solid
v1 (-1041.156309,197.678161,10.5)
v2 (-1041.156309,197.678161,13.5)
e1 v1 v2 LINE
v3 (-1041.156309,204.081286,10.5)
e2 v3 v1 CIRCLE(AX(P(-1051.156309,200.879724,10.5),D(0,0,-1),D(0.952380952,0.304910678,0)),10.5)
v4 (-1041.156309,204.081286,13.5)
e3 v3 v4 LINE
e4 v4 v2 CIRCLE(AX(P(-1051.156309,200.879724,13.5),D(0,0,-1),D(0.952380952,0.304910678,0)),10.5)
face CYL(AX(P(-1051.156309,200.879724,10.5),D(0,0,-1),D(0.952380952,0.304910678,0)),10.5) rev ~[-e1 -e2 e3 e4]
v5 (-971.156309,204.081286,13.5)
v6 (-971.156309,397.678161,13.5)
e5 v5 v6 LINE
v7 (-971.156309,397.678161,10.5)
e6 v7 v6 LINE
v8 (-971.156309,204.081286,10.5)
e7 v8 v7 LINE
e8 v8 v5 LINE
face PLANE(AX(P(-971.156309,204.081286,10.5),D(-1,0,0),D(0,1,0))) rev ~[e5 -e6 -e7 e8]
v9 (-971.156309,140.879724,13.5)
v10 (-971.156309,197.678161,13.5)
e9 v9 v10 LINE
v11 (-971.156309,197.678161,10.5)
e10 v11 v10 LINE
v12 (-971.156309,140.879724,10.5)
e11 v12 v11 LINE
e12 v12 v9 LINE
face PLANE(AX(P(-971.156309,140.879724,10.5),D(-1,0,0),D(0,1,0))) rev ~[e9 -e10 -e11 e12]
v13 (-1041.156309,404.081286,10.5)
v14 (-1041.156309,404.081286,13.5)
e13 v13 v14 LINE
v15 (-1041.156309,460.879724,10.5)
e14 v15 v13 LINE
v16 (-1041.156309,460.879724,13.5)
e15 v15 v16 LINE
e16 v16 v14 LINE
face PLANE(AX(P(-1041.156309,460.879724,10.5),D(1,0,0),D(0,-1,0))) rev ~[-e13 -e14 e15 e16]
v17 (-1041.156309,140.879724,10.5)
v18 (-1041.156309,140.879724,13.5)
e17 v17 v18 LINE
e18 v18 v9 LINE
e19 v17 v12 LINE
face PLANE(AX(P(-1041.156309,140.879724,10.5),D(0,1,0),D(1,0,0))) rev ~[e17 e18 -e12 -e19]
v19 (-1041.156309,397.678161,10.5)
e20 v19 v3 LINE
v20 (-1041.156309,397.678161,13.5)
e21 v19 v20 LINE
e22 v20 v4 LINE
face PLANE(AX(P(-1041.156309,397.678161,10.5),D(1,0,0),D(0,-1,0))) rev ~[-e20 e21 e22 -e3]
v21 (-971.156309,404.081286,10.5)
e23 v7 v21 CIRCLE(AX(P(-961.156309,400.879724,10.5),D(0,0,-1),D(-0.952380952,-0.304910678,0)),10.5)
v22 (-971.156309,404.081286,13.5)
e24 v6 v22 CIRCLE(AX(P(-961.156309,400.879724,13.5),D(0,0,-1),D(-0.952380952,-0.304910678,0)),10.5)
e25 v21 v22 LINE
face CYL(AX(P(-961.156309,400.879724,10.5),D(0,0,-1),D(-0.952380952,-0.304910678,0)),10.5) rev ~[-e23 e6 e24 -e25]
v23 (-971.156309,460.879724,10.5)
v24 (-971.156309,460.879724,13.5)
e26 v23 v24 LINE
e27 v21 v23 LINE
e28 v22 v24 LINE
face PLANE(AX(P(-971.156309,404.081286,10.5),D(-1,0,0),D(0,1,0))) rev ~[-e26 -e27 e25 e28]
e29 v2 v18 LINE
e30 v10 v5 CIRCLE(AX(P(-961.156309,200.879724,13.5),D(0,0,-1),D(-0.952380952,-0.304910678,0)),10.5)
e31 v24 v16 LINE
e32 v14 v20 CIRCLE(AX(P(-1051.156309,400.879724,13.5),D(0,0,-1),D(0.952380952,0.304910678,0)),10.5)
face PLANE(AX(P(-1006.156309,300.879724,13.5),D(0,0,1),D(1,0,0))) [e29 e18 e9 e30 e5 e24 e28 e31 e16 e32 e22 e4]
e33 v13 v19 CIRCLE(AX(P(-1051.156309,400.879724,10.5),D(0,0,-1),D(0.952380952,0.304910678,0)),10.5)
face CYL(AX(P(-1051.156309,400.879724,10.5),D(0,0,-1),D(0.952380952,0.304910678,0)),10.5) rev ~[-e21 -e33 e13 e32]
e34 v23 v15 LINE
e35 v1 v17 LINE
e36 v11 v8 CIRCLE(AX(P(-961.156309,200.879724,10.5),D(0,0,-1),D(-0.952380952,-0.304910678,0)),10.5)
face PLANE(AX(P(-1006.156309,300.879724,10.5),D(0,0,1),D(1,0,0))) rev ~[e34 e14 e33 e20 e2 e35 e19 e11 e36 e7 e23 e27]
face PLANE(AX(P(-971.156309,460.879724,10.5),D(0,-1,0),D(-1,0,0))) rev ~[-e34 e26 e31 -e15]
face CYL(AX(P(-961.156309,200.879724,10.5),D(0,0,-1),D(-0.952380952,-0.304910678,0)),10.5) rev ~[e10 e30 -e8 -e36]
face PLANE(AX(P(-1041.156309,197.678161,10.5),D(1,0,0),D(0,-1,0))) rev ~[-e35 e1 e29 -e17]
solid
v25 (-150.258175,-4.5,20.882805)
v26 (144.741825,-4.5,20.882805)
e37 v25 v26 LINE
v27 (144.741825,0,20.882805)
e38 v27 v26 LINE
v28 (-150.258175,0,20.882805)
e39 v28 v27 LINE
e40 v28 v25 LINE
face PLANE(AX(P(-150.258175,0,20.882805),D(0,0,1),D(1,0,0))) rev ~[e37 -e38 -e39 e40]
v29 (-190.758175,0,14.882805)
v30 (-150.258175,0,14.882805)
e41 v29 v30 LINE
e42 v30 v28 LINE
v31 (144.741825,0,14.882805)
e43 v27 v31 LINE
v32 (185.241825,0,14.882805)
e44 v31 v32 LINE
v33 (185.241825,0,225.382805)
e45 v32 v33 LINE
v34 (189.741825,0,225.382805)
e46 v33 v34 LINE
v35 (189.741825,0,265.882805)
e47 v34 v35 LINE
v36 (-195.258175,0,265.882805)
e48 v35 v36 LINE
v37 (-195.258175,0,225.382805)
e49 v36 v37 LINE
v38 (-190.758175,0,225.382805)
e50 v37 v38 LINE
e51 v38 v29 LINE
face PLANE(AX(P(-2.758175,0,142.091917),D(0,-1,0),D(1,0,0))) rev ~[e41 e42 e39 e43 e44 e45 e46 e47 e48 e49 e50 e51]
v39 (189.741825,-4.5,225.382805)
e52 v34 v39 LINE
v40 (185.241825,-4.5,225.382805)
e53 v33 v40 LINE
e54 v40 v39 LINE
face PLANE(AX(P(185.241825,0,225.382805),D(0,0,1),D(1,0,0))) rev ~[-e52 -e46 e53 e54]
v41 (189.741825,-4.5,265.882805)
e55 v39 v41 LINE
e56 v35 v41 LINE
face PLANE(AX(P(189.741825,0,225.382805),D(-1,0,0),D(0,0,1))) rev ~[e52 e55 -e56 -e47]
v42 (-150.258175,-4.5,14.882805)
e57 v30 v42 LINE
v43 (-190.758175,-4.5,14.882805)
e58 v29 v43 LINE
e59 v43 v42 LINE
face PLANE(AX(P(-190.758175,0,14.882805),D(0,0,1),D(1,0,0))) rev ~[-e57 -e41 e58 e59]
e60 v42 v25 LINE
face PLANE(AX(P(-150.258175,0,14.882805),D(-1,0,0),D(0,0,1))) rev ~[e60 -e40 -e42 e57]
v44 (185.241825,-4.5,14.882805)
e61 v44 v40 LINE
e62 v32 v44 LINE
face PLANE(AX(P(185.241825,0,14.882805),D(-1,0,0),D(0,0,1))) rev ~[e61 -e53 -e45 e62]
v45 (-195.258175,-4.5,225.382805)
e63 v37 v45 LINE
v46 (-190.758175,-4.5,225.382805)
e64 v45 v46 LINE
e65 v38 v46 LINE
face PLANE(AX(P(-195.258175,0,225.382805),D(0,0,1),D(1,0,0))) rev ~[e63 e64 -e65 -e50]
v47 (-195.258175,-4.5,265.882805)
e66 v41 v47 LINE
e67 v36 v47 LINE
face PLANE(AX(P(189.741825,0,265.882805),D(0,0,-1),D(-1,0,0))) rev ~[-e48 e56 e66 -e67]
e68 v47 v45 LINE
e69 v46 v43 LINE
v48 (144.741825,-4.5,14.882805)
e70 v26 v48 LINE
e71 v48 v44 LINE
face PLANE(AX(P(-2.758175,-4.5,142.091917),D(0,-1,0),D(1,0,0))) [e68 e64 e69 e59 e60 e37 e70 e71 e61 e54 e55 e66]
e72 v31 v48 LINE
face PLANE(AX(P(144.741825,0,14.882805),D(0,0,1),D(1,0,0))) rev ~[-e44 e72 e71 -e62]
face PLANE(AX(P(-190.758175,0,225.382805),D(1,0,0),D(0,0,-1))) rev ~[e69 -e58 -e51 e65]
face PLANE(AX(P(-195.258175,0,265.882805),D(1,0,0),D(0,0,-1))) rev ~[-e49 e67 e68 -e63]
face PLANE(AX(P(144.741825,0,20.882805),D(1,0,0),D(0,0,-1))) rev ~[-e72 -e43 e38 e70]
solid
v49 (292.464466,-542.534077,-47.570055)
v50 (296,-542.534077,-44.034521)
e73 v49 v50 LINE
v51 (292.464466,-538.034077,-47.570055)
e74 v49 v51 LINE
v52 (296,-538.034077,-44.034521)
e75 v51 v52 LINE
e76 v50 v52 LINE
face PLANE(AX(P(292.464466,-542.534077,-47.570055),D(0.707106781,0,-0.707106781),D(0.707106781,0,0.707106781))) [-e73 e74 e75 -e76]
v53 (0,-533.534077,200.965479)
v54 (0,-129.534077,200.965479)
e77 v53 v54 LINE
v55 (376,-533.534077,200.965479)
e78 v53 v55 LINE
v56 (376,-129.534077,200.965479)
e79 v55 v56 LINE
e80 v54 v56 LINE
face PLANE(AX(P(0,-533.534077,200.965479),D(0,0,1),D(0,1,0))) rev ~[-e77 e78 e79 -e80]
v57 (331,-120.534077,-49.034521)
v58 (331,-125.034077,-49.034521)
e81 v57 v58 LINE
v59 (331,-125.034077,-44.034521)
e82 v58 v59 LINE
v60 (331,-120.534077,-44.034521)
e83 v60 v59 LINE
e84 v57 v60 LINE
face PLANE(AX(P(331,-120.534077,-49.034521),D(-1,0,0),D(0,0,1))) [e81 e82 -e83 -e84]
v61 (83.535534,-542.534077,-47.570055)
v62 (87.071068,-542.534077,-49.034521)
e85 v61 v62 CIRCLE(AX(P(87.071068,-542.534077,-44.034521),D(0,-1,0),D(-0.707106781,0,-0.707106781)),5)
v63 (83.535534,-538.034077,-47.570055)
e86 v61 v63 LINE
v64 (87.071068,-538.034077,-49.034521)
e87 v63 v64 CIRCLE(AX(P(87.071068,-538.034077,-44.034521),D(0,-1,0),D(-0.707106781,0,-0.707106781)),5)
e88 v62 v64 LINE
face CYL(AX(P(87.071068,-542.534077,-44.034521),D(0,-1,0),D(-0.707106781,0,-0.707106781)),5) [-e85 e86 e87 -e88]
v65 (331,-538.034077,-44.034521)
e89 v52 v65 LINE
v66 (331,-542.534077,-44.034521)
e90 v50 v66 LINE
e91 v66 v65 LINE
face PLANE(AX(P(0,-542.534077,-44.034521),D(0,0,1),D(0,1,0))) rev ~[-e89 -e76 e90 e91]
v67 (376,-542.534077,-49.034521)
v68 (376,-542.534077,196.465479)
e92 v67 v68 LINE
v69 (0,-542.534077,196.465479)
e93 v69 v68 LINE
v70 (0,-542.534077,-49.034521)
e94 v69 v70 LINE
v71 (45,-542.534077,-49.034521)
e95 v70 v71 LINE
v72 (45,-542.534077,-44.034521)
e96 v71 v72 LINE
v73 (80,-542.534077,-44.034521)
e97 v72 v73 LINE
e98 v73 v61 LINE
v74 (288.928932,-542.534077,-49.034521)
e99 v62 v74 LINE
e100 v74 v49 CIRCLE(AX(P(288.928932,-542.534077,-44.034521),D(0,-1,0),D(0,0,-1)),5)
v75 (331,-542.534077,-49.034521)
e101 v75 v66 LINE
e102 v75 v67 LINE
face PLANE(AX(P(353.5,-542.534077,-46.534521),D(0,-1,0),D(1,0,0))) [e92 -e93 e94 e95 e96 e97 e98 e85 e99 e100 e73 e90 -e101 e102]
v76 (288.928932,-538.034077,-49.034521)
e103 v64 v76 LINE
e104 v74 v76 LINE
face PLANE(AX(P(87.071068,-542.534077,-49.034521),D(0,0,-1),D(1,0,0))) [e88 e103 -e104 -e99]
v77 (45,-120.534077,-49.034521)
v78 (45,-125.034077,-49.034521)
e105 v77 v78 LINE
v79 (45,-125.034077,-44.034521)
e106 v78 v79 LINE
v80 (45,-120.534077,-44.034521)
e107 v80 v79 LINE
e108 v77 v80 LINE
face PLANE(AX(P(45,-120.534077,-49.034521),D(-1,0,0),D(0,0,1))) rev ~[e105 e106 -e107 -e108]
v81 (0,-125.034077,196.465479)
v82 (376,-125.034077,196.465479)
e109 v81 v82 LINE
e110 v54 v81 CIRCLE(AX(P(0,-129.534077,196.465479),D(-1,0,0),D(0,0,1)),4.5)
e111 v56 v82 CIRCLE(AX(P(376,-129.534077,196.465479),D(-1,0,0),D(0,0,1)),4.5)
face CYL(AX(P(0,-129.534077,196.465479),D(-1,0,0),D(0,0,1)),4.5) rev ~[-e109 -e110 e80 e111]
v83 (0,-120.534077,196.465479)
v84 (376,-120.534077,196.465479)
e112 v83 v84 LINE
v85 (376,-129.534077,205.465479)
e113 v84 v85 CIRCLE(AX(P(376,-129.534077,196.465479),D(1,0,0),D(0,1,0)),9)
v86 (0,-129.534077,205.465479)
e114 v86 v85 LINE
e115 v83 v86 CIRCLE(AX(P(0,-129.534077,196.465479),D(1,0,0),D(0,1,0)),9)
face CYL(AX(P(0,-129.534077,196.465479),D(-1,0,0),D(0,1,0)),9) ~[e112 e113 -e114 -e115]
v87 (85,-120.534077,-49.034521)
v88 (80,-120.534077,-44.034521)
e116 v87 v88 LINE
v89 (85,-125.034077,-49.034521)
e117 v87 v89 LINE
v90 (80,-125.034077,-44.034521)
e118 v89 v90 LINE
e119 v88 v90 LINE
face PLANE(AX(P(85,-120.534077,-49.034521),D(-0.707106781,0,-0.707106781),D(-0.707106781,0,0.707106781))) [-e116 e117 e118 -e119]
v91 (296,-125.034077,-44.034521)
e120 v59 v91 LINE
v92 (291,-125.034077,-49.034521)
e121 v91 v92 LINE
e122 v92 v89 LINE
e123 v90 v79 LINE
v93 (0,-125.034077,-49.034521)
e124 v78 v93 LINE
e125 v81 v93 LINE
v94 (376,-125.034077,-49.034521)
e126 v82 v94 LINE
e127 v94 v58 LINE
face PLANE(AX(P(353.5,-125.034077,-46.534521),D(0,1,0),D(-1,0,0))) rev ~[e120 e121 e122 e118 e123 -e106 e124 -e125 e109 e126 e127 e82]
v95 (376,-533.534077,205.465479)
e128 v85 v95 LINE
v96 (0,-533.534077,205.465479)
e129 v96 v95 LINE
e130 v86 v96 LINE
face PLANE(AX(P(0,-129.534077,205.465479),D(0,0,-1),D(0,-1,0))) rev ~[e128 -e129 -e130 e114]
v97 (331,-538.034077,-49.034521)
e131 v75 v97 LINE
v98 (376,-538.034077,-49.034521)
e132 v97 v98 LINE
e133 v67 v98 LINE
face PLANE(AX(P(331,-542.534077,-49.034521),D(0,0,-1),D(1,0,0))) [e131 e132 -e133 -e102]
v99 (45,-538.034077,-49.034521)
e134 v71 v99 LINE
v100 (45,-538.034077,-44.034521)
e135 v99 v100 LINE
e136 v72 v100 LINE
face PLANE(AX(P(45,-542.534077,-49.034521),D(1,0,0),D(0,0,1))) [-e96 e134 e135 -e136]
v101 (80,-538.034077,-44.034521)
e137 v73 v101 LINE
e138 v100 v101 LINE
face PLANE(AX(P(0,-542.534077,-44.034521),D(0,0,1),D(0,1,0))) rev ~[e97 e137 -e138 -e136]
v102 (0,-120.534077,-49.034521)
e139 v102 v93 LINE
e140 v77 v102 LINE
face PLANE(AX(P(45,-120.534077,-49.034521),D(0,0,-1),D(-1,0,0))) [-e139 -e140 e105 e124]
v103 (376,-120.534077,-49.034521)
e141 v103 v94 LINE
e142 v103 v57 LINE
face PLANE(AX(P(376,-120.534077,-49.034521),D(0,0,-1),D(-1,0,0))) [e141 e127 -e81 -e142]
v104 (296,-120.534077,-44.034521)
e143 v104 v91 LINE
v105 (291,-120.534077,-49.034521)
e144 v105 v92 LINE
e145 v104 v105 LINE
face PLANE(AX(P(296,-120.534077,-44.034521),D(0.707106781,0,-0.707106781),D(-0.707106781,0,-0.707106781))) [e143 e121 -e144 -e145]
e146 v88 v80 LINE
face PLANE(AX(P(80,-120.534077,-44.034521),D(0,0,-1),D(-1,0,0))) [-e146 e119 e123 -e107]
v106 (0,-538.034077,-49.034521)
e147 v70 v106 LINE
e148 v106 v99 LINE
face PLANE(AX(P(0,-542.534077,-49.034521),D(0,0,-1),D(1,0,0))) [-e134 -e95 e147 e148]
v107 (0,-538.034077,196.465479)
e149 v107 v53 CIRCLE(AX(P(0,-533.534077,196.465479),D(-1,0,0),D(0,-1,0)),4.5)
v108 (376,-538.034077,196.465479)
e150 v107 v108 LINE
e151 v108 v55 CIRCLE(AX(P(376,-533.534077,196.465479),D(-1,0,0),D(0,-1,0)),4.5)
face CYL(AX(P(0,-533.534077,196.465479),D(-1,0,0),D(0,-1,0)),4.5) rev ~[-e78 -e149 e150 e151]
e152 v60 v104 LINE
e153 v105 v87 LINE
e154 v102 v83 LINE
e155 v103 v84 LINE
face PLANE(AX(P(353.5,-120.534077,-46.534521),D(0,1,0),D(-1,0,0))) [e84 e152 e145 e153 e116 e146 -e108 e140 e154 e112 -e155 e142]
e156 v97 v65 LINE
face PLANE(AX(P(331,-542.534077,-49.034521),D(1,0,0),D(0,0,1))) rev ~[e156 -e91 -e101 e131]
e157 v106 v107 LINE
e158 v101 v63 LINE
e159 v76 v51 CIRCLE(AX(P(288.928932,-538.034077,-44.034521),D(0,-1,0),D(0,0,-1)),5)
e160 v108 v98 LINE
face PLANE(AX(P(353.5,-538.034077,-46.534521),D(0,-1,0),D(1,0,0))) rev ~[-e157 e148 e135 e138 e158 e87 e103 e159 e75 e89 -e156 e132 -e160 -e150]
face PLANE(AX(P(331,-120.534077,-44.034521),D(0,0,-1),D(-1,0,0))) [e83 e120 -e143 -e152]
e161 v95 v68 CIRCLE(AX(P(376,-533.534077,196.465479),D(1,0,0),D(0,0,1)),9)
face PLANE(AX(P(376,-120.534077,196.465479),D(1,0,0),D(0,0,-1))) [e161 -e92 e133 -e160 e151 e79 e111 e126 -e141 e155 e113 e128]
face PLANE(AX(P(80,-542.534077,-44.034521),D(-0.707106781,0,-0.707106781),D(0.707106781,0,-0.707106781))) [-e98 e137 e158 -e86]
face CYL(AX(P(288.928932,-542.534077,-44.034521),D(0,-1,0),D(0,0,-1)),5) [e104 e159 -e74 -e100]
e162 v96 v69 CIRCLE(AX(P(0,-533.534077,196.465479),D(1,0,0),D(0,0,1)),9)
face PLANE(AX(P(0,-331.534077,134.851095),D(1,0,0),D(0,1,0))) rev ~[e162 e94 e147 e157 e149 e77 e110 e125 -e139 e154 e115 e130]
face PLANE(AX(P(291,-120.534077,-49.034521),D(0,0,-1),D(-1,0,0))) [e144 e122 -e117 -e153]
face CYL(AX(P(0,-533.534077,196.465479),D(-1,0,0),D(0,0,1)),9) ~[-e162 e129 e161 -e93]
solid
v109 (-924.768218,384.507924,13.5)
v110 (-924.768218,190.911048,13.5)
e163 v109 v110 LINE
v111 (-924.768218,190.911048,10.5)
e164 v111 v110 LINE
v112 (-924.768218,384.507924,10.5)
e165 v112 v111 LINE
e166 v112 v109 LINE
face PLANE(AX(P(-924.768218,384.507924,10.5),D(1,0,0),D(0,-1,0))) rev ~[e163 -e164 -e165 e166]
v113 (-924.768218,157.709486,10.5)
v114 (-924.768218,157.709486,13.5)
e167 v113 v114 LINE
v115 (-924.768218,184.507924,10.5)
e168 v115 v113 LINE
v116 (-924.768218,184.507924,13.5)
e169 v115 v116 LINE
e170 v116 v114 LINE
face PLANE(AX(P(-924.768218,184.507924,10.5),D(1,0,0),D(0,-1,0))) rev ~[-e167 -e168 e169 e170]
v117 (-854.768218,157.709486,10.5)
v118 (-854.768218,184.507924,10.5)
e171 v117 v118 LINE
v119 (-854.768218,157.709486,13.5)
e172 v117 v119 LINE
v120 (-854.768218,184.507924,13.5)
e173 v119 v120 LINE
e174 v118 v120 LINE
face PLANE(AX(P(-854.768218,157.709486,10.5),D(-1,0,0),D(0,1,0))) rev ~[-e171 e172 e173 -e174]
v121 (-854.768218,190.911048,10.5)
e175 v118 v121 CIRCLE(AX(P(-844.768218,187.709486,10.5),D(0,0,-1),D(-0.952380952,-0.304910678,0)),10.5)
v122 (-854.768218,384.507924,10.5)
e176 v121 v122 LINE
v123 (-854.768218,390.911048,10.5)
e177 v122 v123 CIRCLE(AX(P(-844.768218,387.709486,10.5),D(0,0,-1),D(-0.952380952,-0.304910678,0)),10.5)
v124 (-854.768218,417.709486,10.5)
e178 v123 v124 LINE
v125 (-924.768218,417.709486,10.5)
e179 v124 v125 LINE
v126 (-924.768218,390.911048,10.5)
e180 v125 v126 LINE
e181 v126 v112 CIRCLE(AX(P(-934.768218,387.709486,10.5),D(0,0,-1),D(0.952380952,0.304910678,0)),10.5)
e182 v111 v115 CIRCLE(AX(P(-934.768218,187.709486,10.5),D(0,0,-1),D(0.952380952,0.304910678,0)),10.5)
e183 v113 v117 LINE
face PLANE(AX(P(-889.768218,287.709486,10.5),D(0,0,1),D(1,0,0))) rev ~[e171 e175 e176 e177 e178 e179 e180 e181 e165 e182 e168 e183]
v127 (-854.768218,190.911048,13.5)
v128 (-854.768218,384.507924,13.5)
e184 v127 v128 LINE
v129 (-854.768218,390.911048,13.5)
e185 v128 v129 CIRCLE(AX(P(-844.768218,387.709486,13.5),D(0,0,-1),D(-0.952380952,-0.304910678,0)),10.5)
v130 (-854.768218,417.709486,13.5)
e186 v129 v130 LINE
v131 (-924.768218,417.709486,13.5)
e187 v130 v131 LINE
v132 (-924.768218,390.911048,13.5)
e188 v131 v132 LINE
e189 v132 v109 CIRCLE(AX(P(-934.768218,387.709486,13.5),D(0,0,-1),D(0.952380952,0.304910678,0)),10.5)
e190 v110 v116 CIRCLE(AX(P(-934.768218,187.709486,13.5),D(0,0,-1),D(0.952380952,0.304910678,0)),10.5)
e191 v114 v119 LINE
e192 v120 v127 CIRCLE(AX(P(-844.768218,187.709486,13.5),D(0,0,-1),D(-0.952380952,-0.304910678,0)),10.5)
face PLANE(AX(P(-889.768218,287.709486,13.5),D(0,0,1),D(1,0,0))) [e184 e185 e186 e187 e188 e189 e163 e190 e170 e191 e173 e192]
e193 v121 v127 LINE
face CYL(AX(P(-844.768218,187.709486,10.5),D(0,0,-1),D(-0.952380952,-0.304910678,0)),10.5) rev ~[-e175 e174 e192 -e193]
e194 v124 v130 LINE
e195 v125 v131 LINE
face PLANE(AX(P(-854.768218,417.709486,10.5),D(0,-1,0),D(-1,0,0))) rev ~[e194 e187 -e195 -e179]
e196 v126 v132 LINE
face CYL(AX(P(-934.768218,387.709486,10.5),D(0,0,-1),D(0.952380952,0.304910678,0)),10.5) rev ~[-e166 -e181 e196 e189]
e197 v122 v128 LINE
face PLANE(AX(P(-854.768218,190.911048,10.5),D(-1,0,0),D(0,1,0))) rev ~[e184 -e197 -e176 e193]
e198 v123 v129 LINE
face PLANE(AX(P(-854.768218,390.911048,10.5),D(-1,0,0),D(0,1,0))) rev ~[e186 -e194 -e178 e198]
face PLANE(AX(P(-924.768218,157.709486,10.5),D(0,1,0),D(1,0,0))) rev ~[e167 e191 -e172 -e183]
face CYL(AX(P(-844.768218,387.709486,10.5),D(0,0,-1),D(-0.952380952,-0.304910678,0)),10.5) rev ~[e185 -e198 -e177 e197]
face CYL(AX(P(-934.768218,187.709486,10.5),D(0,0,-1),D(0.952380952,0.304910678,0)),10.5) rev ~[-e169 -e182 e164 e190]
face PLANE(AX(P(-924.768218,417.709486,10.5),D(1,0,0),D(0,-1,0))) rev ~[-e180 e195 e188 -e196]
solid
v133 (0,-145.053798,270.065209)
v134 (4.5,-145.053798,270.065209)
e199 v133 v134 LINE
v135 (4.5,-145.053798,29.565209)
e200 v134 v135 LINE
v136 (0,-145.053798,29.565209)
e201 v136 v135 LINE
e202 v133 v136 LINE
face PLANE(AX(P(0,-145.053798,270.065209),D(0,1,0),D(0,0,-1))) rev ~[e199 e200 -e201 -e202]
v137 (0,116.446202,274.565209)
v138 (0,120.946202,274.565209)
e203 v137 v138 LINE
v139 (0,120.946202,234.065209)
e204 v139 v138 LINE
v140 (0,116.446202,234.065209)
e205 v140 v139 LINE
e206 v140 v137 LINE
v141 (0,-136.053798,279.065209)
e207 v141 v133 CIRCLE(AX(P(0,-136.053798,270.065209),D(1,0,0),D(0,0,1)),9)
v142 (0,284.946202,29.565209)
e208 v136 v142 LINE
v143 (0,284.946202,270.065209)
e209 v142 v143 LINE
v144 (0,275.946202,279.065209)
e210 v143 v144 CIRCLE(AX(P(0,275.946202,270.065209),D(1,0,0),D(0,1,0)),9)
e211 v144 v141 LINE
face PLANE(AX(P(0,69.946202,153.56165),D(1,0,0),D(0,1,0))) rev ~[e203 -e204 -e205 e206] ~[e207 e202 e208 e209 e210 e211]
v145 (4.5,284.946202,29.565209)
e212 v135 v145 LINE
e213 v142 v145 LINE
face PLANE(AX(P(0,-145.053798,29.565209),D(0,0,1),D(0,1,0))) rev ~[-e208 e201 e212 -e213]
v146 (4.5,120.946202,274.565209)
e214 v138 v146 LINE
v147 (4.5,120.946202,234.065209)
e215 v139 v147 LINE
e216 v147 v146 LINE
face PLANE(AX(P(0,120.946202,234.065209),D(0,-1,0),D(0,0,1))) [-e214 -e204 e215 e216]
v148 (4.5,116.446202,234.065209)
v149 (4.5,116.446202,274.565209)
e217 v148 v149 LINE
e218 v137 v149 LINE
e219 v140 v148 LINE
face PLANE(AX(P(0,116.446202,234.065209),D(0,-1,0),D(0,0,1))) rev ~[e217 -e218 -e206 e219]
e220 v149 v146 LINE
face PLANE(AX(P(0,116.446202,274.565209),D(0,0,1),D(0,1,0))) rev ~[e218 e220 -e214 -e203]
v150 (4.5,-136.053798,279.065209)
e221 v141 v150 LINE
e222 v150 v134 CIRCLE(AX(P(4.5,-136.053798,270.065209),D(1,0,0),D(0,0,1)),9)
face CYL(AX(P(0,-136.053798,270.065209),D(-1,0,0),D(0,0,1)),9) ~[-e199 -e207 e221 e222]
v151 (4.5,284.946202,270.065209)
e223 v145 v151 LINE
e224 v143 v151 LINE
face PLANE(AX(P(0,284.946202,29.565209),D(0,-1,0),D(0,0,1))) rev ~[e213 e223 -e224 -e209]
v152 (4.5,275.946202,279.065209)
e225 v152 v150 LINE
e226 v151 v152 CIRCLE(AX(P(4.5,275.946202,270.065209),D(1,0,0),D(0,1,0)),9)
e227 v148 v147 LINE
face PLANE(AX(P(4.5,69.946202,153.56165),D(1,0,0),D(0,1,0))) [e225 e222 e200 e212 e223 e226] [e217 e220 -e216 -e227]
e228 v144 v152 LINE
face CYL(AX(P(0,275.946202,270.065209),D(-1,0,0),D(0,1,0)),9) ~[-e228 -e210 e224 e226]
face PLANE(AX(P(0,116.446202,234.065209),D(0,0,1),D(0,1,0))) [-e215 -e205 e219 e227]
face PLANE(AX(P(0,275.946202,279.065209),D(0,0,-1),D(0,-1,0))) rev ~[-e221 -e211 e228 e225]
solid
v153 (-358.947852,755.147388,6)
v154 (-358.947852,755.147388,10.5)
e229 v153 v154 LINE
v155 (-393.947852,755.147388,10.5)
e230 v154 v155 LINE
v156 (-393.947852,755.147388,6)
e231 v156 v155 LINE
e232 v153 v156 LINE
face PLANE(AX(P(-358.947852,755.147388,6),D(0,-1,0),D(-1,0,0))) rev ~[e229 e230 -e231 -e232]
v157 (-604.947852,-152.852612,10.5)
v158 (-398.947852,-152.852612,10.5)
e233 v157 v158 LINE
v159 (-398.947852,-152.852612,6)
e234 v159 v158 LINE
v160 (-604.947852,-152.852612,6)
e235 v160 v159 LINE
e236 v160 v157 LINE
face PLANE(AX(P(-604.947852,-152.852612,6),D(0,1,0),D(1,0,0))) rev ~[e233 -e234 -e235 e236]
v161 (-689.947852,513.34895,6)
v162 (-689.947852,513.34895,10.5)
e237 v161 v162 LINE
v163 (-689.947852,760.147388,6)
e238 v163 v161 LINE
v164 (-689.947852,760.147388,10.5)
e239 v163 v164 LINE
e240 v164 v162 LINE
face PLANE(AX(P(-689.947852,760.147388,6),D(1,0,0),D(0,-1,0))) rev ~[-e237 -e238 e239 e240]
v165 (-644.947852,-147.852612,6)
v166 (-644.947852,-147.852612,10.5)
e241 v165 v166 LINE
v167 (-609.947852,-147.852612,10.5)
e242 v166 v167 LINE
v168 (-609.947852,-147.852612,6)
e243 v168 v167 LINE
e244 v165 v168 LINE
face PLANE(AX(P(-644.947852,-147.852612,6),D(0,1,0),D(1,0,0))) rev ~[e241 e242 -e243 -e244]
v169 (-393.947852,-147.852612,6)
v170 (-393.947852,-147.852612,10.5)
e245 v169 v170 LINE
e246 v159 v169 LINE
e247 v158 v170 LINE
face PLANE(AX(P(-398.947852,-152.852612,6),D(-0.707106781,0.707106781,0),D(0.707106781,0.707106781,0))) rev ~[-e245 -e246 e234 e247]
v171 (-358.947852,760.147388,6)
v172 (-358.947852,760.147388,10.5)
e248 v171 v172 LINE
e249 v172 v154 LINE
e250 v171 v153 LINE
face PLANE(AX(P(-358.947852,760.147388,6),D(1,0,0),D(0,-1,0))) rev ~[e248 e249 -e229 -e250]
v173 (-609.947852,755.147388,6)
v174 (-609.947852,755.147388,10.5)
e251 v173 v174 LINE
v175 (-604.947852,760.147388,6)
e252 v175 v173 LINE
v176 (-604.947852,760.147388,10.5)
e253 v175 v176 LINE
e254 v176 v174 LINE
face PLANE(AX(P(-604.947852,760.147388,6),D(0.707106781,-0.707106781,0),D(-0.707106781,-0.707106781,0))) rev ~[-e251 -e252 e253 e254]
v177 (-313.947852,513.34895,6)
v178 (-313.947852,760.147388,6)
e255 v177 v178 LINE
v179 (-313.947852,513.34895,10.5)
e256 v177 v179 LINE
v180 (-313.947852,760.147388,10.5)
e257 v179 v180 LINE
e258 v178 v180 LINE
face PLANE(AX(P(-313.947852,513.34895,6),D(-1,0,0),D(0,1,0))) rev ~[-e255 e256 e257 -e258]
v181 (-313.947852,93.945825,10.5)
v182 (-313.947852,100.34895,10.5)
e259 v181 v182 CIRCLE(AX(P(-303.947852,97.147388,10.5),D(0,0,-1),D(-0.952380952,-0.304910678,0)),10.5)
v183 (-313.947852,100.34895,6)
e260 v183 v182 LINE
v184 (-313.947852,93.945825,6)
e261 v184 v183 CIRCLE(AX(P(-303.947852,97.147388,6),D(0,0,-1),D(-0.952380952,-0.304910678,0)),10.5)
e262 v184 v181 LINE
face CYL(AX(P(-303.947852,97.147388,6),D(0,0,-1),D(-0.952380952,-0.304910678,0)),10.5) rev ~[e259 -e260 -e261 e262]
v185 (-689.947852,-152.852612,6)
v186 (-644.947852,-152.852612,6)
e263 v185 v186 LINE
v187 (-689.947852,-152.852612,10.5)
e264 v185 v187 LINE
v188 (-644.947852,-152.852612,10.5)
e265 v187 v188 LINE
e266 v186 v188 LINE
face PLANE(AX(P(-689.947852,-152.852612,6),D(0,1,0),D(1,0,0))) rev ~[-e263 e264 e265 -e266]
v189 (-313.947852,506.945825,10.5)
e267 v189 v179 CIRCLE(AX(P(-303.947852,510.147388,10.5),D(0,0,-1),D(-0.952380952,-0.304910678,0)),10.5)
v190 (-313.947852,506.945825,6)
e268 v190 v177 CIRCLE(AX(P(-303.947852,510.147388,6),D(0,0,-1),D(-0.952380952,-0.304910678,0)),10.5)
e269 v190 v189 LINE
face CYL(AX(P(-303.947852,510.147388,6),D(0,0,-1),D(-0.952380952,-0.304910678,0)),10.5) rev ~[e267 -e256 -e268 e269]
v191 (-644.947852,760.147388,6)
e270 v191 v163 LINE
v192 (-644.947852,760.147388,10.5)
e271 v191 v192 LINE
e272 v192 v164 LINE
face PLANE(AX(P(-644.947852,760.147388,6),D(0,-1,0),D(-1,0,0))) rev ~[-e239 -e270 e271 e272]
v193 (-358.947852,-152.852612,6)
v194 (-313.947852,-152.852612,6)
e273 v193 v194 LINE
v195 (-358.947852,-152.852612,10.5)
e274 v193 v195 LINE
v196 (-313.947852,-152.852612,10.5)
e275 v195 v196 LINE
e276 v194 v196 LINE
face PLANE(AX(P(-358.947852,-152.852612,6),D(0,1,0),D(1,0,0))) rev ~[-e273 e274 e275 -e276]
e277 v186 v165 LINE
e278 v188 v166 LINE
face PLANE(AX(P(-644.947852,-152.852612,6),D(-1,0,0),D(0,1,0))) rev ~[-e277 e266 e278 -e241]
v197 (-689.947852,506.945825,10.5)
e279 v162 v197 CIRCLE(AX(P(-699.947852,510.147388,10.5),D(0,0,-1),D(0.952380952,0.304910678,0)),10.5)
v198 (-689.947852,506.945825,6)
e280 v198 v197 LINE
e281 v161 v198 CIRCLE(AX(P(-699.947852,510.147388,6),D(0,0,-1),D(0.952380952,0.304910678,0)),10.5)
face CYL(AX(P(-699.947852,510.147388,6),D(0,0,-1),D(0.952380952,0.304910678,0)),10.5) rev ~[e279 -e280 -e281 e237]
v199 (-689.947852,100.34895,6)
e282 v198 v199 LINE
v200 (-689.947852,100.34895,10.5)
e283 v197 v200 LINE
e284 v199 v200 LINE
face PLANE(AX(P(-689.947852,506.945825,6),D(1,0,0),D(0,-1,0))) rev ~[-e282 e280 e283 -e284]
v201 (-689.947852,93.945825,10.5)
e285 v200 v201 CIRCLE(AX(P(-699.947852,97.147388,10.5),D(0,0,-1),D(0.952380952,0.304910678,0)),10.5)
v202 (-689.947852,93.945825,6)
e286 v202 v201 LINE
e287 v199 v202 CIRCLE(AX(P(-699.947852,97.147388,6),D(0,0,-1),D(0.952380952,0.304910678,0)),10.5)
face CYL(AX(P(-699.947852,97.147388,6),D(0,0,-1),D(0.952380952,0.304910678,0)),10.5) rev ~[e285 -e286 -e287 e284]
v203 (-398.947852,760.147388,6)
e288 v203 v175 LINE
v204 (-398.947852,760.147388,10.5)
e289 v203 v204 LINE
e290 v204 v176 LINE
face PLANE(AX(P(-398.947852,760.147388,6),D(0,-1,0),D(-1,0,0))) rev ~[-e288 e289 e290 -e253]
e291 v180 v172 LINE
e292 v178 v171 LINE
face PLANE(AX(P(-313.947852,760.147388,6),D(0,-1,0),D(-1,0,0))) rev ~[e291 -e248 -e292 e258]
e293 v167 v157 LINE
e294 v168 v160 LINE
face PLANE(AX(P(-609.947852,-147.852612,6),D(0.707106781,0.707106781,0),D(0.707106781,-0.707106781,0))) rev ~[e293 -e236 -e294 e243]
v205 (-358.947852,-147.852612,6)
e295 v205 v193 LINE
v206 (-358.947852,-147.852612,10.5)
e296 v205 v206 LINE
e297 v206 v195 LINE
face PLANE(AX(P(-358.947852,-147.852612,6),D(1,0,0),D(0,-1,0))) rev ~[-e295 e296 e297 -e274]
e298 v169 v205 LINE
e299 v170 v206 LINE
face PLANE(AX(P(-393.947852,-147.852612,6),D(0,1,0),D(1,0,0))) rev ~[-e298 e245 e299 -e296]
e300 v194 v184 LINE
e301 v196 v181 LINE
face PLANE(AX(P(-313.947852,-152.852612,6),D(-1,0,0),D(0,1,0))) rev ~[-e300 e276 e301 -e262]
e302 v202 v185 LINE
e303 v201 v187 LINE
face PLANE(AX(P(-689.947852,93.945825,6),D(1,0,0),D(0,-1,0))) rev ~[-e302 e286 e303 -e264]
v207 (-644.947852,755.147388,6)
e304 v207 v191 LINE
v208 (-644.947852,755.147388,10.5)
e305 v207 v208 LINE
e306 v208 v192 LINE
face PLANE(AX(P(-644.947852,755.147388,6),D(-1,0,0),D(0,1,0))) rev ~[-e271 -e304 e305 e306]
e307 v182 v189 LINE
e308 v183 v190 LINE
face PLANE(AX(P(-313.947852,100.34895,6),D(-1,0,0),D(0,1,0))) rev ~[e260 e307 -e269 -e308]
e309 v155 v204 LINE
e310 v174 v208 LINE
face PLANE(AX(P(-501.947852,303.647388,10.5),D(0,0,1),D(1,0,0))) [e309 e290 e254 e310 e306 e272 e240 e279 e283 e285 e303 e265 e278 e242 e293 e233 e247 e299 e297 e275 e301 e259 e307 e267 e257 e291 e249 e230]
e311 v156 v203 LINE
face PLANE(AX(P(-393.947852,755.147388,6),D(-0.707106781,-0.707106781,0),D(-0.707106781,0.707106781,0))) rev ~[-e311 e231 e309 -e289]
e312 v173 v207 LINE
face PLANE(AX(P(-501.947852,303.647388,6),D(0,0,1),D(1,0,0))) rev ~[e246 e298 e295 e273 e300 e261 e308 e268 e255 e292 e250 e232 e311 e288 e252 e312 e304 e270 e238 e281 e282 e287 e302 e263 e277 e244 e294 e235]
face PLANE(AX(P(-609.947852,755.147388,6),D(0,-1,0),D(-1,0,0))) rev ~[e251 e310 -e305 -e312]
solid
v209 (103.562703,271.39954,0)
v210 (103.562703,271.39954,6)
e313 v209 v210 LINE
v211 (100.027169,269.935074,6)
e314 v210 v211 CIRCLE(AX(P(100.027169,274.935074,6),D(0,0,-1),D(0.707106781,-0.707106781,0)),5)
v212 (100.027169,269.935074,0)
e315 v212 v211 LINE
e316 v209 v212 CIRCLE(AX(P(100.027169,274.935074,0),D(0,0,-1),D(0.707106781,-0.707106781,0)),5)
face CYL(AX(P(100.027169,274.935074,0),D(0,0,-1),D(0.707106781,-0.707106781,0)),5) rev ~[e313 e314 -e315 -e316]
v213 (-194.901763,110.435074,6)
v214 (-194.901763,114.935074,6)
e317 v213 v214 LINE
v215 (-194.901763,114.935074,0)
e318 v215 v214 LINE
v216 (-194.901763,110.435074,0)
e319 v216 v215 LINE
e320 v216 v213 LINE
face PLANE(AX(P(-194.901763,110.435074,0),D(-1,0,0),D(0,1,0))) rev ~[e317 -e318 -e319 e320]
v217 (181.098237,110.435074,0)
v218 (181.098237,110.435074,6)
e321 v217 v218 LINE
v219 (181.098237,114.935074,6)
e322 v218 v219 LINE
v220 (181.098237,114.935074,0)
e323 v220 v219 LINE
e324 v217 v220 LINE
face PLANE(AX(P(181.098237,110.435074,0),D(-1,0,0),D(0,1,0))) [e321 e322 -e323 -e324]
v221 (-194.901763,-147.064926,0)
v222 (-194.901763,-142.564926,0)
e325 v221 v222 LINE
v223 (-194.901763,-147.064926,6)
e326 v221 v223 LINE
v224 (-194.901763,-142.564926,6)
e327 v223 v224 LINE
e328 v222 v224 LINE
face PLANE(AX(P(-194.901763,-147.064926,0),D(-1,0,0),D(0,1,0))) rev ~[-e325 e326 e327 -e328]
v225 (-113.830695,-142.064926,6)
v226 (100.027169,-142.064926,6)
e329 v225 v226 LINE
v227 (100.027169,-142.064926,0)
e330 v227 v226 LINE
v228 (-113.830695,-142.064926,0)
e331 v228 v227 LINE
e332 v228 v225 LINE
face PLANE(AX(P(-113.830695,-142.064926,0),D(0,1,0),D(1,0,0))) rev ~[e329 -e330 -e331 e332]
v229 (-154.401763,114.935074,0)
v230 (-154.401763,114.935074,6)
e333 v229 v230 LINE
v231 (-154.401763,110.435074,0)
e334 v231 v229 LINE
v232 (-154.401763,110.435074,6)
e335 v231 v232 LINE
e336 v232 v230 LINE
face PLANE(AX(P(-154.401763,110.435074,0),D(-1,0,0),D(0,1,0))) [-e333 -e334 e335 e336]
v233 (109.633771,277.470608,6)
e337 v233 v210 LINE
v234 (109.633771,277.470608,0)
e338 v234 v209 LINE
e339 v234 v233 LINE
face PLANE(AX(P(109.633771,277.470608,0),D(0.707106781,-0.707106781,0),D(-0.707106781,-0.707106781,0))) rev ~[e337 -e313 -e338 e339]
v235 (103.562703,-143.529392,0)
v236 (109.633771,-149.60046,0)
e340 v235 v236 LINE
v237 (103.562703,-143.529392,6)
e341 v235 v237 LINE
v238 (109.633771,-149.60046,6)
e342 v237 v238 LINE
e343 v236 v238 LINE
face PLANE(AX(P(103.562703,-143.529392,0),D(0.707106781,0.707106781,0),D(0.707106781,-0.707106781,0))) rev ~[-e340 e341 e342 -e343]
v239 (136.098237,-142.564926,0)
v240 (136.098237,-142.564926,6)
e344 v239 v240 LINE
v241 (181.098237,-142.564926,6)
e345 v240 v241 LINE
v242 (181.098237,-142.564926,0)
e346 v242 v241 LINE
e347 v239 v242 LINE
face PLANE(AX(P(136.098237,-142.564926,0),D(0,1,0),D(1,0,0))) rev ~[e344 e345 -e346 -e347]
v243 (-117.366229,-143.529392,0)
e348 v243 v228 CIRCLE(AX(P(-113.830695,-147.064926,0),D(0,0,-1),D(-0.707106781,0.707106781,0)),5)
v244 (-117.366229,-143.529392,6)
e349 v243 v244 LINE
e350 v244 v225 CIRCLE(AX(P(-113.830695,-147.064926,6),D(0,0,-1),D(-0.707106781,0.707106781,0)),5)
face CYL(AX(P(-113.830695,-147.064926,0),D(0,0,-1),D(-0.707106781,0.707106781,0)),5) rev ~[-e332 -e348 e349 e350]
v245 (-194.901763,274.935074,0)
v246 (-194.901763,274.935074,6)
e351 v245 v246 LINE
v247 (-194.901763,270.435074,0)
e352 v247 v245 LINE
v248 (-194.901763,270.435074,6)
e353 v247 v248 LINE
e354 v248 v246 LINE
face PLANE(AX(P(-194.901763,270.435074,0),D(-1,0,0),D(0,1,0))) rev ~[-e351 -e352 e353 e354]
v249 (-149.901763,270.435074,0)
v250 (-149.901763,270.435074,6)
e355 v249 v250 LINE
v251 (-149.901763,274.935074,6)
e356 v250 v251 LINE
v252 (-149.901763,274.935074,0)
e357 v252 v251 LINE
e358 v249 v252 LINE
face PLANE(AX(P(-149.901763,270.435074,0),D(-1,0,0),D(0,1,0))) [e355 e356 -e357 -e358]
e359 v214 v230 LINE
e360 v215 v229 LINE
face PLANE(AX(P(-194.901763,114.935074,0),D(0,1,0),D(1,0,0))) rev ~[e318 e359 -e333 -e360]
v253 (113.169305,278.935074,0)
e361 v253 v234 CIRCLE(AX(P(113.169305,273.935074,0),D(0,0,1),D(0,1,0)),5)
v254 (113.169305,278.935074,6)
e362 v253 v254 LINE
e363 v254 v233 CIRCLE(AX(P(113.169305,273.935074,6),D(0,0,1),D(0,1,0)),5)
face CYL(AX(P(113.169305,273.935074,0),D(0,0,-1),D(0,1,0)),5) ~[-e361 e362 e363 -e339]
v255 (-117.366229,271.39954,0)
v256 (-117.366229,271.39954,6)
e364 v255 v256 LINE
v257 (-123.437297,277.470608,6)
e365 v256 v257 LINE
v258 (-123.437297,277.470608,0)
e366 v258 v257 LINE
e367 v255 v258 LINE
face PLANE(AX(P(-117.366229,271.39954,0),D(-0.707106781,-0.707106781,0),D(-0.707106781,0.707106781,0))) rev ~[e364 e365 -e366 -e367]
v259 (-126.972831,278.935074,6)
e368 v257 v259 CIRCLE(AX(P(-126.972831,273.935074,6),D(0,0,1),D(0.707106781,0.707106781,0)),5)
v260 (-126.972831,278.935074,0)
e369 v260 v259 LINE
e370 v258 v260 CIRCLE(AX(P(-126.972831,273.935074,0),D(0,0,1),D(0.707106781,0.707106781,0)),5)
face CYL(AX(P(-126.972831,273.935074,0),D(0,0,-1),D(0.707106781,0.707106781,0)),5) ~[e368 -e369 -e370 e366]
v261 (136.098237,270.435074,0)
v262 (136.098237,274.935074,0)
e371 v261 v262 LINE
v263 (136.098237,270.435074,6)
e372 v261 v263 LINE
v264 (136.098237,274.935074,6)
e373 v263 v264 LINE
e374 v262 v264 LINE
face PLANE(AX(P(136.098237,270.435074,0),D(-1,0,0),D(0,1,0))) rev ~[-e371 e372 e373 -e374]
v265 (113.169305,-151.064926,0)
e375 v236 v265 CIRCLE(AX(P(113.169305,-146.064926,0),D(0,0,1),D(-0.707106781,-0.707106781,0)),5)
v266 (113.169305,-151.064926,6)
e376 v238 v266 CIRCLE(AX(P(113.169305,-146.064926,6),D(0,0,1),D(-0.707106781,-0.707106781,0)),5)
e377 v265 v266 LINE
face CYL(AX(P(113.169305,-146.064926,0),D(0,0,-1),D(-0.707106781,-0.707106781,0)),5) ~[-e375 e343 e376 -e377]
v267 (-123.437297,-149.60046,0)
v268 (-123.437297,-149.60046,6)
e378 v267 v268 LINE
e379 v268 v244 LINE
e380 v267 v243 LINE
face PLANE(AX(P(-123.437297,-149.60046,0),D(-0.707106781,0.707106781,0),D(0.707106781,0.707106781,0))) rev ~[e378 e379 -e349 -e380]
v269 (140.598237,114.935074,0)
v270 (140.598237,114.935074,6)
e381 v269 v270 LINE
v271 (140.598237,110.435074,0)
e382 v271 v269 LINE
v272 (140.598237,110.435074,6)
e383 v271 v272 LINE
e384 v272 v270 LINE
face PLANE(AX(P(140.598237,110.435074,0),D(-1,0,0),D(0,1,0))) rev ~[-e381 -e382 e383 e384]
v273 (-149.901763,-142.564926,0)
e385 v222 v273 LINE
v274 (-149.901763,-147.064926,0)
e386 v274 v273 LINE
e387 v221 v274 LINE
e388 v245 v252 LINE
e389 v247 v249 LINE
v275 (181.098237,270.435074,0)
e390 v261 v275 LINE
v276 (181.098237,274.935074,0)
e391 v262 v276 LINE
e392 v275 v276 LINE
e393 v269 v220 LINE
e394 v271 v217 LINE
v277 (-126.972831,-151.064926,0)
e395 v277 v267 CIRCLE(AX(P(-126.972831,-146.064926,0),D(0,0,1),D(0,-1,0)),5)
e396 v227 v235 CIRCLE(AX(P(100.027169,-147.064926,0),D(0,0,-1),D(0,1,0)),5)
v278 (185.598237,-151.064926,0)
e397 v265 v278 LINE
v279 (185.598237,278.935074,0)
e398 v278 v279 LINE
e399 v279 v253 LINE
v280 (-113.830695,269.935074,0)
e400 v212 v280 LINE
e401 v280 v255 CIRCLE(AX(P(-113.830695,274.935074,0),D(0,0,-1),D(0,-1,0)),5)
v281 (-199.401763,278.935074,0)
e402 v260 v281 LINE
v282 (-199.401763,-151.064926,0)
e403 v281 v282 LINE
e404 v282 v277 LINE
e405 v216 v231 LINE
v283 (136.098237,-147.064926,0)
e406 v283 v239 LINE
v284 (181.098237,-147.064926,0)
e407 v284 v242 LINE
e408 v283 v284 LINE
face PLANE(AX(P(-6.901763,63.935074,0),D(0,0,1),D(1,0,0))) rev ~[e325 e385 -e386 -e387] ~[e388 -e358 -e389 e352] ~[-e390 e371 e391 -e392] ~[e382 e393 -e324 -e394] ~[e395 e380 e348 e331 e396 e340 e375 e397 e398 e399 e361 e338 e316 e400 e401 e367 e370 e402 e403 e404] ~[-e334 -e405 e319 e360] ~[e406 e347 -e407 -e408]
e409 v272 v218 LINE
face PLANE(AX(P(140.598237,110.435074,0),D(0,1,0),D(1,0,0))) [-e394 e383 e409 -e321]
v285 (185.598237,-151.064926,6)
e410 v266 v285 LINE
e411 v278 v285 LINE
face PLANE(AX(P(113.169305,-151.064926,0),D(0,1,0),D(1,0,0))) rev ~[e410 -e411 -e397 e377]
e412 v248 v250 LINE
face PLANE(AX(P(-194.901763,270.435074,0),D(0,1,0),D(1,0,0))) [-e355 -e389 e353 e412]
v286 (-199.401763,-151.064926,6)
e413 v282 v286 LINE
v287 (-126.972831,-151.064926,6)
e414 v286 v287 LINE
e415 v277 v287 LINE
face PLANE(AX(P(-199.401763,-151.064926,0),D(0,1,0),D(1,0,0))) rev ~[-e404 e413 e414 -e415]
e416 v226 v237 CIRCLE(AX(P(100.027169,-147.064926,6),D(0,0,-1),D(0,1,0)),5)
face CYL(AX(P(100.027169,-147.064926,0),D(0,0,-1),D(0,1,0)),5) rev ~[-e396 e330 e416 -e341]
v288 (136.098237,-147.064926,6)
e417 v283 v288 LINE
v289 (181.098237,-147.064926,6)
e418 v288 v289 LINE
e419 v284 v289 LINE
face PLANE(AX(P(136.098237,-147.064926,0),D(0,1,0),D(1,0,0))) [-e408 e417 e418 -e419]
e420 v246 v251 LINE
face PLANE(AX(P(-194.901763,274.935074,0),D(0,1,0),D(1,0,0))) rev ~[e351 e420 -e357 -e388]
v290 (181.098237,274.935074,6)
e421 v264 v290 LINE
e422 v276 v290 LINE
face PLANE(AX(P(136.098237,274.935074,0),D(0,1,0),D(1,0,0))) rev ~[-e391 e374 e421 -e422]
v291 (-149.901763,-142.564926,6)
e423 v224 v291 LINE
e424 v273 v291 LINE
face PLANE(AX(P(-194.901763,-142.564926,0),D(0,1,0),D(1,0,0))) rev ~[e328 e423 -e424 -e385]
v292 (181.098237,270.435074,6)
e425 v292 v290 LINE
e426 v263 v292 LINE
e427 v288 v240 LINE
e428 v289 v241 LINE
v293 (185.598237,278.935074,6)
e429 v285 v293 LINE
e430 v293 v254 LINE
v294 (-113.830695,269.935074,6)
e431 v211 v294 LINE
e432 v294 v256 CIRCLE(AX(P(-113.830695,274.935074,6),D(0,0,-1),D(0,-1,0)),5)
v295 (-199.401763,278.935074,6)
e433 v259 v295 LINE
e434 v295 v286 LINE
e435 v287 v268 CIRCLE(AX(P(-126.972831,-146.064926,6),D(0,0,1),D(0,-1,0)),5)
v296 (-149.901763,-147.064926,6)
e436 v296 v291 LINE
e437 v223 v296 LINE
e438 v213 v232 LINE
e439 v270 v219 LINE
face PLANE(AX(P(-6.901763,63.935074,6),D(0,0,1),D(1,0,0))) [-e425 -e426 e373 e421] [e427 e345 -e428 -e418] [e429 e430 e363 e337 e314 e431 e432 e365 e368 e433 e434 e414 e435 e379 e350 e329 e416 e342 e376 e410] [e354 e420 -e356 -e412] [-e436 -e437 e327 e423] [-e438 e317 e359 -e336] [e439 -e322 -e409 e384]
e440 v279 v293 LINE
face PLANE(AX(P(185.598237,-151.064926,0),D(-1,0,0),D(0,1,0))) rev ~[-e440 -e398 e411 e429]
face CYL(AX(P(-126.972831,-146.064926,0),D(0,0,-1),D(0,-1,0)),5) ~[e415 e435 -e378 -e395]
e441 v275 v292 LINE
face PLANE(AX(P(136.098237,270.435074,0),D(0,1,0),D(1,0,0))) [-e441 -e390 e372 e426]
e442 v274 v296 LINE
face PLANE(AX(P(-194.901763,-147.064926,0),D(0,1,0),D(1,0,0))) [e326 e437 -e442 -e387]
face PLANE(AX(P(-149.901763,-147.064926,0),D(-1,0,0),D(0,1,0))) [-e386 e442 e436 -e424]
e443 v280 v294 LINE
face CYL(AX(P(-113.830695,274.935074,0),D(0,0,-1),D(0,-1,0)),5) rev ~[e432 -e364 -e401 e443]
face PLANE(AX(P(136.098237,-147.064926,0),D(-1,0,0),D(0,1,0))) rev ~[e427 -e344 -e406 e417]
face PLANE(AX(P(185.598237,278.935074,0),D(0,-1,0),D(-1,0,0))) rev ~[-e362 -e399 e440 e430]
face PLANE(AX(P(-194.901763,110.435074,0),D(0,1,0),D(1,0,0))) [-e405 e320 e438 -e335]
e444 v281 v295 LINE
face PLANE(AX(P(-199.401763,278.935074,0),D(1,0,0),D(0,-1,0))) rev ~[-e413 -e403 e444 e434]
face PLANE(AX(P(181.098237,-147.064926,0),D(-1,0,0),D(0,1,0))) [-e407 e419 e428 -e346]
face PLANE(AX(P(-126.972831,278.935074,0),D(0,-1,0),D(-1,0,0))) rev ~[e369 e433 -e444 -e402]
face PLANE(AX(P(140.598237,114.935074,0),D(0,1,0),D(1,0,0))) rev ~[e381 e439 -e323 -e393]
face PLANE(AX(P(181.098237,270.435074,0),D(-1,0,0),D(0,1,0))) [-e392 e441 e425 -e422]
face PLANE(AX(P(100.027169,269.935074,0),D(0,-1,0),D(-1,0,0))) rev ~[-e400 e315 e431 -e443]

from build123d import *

# Parameters (mm, degrees)
F0_W      = 45
F0_H      = 4.5
F0_W_2    = 40.5
F1_DEPTH  = 6
F3_DEPTH  = 4.5
F4_W      = 4.5
F4_H      = 40.5
F5_DEPTH  = 4.5
F7_DEPTH  = 376
F8_W      = 45
F8_H      = 5
F9_DEPTH  = 4.5
F10_W     = 45
F10_H     = 5
F11_DEPTH = 4.5
F13_DEPTH = 4.5
F15_DEPTH = 3
F17_DEPTH = 3


with BuildPart() as f1:
    # F0 (on Top) → F1 (new body)
    with BuildSketch(Plane.XY):
        with BuildLine():
            Line((-199.4017629046, 110.4350739238), (-199.4017629046, -151.0649260762))
            Line((-199.4017629046, -151.0649260762), (-126.9728307165, -151.0649260762))
            ThreePointArc((-126.9728307165, -151.0649260762), (-125.0594135547, -150.6843237388), (-123.4372968106, -149.6004599821))
            Line((-123.4372968106, -149.6004599821), (-117.3662289987, -143.5293921703))
            ThreePointArc((-117.3662289987, -143.5293921703), (-115.7441122546, -142.4455284136), (-113.8306950928, -142.0649260762))
            Line((-113.8306950928, -142.0649260762), (100.0271692835, -142.0649260762))
            ThreePointArc((100.0271692835, -142.0649260762), (101.9405864453, -142.4455284136), (103.5627031894, -143.5293921703))
            Line((103.5627031894, -143.5293921703), (109.6337710013, -149.6004599821))
            ThreePointArc((109.6337710013, -149.6004599821), (111.2558877454, -150.6843237388), (113.1693049072, -151.0649260762))
            Line((113.1693049072, -151.0649260762), (185.5982370954, -151.0649260762))
            Line((185.5982370954, -151.0649260762), (185.5982370954, 110.4350739238))
            Line((185.5982370954, 110.4350739238), (185.5982370954, 114.9350739238))
            Line((185.5982370954, 114.9350739238), (185.5982370954, 278.9350739238))
            Line((185.5982370954, 278.9350739238), (113.1693049072, 278.9350739238))
            ThreePointArc((113.1693049072, 278.9350739238), (111.2558877454, 278.5544715864), (109.6337710013, 277.4706078297))
            Line((109.6337710013, 277.4706078297), (103.5627031894, 271.3995400179))
            ThreePointArc((103.5627031894, 271.3995400179), (101.9405864453, 270.3156762612), (100.0271692835, 269.9350739238))
            Line((100.0271692835, 269.9350739238), (-113.8306950928, 269.9350739238))
            ThreePointArc((-113.8306950928, 269.9350739238), (-115.7441122546, 270.3156762612), (-117.3662289987, 271.3995400179))
            Line((-117.3662289987, 271.3995400179), (-123.4372968106, 277.4706078297))
            ThreePointArc((-123.4372968106, 277.4706078297), (-125.0594135547, 278.5544715864), (-126.9728307165, 278.9350739238))
            Line((-126.9728307165, 278.9350739238), (-199.4017629046, 278.9350739238))
            Line((-199.4017629046, 278.9350739238), (-199.4017629046, 114.9350739238))
            Line((-199.4017629046, 114.9350739238), (-199.4017629046, 110.4350739238))
        make_face()
        with Locations((-172.4017629046, -144.8149260762)):
            Rectangle(F0_W, F0_H, mode=Mode.SUBTRACT)
        with Locations((158.5982370954, -144.8149260762)):
            Rectangle(F0_W, F0_H, mode=Mode.SUBTRACT)
        with Locations((-174.6517629046, 112.6850739238)):
            Rectangle(F0_W_2, F0_H, mode=Mode.SUBTRACT)
        with Locations((-172.4017629046, 272.6850739238)):
            Rectangle(F0_W, F0_H, mode=Mode.SUBTRACT)
        with Locations((160.8482370954, 112.6850739238)):
            Rectangle(F0_W_2, F0_H, mode=Mode.SUBTRACT)
        with Locations((158.5982370954, 272.6850739238)):
            Rectangle(F0_W, F0_H, mode=Mode.SUBTRACT)
    extrude(amount=F1_DEPTH)


with BuildPart() as f3:
    # F2 (on Front) → F3 (new body)
    with BuildSketch(Plane.XZ):
        Polygon((-150.2581751347, 14.8828048706), (-150.2581751347, 20.8828048706), (144.7418248653, 20.8828048706), (144.7418248653, 14.8828048706), (185.2418248653, 14.8828048706), (185.2418248653, 20.8828048706), (185.2418248653, 225.3828048706), (189.7418248653, 225.3828048706), (189.7418248653, 265.8828048706), (185.2418248653, 265.8828048706), (-190.7581751347, 265.8828048706), (-195.2581751347, 265.8828048706), (-195.2581751347, 225.3828048706), (-190.7581751347, 225.3828048706), (-190.7581751347, 20.8828048706), (-190.7581751347, 14.8828048706), align=None)
    extrude(amount=F3_DEPTH)


with BuildPart() as f5:
    # F4 (on Right) → F5 (new body)
    with BuildSketch(Plane.YZ):
        with BuildLine():
            Line((-145.0537979603, 270.0652094391), (-145.0537979603, 29.5652094391))
            Line((-145.0537979603, 29.5652094391), (284.9462020397, 29.5652094391))
            Line((284.9462020397, 29.5652094391), (284.9462020397, 270.0652094391))
            ThreePointArc((284.9462020397, 270.0652094391), (282.3101630704, 276.4291704698), (275.9462020397, 279.0652094391))
            Line((275.9462020397, 279.0652094391), (120.9462020397, 279.0652094391))
            Line((120.9462020397, 279.0652094391), (116.4462020397, 279.0652094391))
            Line((116.4462020397, 279.0652094391), (-136.0537979603, 279.0652094391))
            ThreePointArc((-136.0537979603, 279.0652094391), (-142.417758991, 276.4291704698), (-145.0537979603, 270.0652094391))
        make_face()
        with Locations((118.6962020397, 254.3152094391)):
            Rectangle(F4_W, F4_H, mode=Mode.SUBTRACT)
    extrude(amount=F5_DEPTH)


with BuildPart() as f7:
    # F6 (on Right) → F7 (new body)
    with BuildSketch(Plane.YZ):
        with BuildLine():
            Line((-125.0340768695, -44.0345209837), (-120.5340768695, -44.0345209837))
            Line((-120.5340768695, -44.0345209837), (-120.5340768695, 196.4654790163))
            ThreePointArc((-120.5340768695, 196.4654790163), (-123.1701158388, 202.829440047), (-129.5340768695, 205.4654790163))
            Line((-129.5340768695, 205.4654790163), (-533.5340768695, 205.4654790163))
            ThreePointArc((-533.5340768695, 205.4654790163), (-539.8980379002, 202.829440047), (-542.5340768695, 196.4654790163))
            Line((-542.5340768695, 196.4654790163), (-542.5340768695, -44.0345209837))
            Line((-542.5340768695, -44.0345209837), (-538.0340768695, -44.0345209837))
            Line((-538.0340768695, -44.0345209837), (-538.0340768695, 196.4654790163))
            ThreePointArc((-538.0340768695, 196.4654790163), (-536.7160573848, 199.6474595316), (-533.5340768695, 200.9654790163))
            Line((-533.5340768695, 200.9654790163), (-129.5340768695, 200.9654790163))
            ThreePointArc((-129.5340768695, 200.9654790163), (-126.3520963541, 199.6474595316), (-125.0340768695, 196.4654790163))
            Line((-125.0340768695, 196.4654790163), (-125.0340768695, -44.0345209837))
        make_face()
    extrude(amount=F7_DEPTH)

    # F8 (on face) → F9 (join)
    with BuildSketch(Plane.XZ.offset(542.5340768695)):
        with BuildLine():
            Line((80, -44.0345209837), (83.5355339059, -47.5700548896))
            ThreePointArc((83.5355339059, -47.5700548896), (85.15765065, -48.6539186463), (87.0710678119, -49.0345209837))
            Line((87.0710678119, -49.0345209837), (288.9289321881, -49.0345209837))
            ThreePointArc((288.9289321881, -49.0345209837), (290.84234935, -48.6539186463), (292.4644660941, -47.5700548896))
            Line((292.4644660941, -47.5700548896), (296, -44.0345209837))
            Line((296, -44.0345209837), (80, -44.0345209837))
        make_face()
        with Locations((353.5, -46.5345209837)):
            Rectangle(F8_W, F8_H)
        with Locations((22.5, -46.5345209837)):
            Rectangle(F8_W, F8_H)
    extrude(amount=-F9_DEPTH)

    # F10 (on face) → F11 (join)
    with BuildSketch(Plane(origin=(0, -120.5340768695, 0), x_dir=(-1, 0, 0), z_dir=(0, 1, 0))):
        with Locations((-353.5, -46.5345209837)):
            Rectangle(F10_W, F10_H)
        with Locations((-22.5, -46.5345209837)):
            Rectangle(F10_W, F10_H)
        Polygon((-80, -44.0345209837), (-296, -44.0345209837), (-291, -49.0345209837), (-85, -49.0345209837), align=None)
        Polygon((-376, 196.4654790163), (-376, -44.0345209837), (-331, -44.0345209837), (-296, -44.0345209837), (-80, -44.0345209837), (-45, -44.0345209837), (0, -44.0345209837), (0, 196.4654790163), align=None)
    extrude(amount=-F11_DEPTH)


with BuildPart() as f13:
    # F12 (on face) → F13 (new body)
    with BuildSketch(Plane.XY.offset(6)):
        with BuildLine():
            Line((-689.9478515867, 93.9458254219), (-689.9478515867, -152.8526124594))
            Line((-689.9478515867, -152.8526124594), (-644.9478515867, -152.8526124594))
            Line((-644.9478515867, -152.8526124594), (-644.9478515867, -147.8526124594))
            Line((-644.9478515867, -147.8526124594), (-609.9478515867, -147.8526124594))
            Line((-609.9478515867, -147.8526124594), (-604.9478515867, -152.8526124594))
            Line((-604.9478515867, -152.8526124594), (-398.9478515867, -152.8526124594))
            Line((-398.9478515867, -152.8526124594), (-393.9478515867, -147.8526124594))
            Line((-393.9478515867, -147.8526124594), (-358.9478515867, -147.8526124594))
            Line((-358.9478515867, -147.8526124594), (-358.9478515867, -152.8526124594))
            Line((-358.9478515867, -152.8526124594), (-313.9478515867, -152.8526124594))
            Line((-313.9478515867, -152.8526124594), (-313.9478515867, 93.9458254219))
            ThreePointArc((-313.9478515867, 93.9458254219), (-314.4478515867, 97.1473875406), (-313.9478515867, 100.3489496594))
            Line((-313.9478515867, 100.3489496594), (-313.9478515867, 506.9458254219))
            ThreePointArc((-313.9478515867, 506.9458254219), (-314.4478515867, 510.1473875406), (-313.9478515867, 513.3489496594))
            Line((-313.9478515867, 513.3489496594), (-313.9478515867, 760.1473875406))
            Line((-313.9478515867, 760.1473875406), (-358.9478515867, 760.1473875406))
            Line((-358.9478515867, 760.1473875406), (-358.9478515867, 755.1473875406))
            Line((-358.9478515867, 755.1473875406), (-393.9478515867, 755.1473875406))
            Line((-393.9478515867, 755.1473875406), (-398.9478515867, 760.1473875406))
            Line((-398.9478515867, 760.1473875406), (-604.9478515867, 760.1473875406))
            Line((-604.9478515867, 760.1473875406), (-609.9478515867, 755.1473875406))
            Line((-609.9478515867, 755.1473875406), (-644.9478515867, 755.1473875406))
            Line((-644.9478515867, 755.1473875406), (-644.9478515867, 760.1473875406))
            Line((-644.9478515867, 760.1473875406), (-689.9478515867, 760.1473875406))
            Line((-689.9478515867, 760.1473875406), (-689.9478515867, 513.3489496594))
            ThreePointArc((-689.9478515867, 513.3489496594), (-689.4478515867, 510.1473875406), (-689.9478515867, 506.9458254219))
            Line((-689.9478515867, 506.9458254219), (-689.9478515867, 100.3489496594))
            ThreePointArc((-689.9478515867, 100.3489496594), (-689.4478515867, 97.1473875406), (-689.9478515867, 93.9458254219))
        make_face()
    extrude(amount=F13_DEPTH)


with BuildPart() as f15:
    # F14 (on face) → F15 (new body)
    with BuildSketch(Plane.XY.offset(10.5)):
        with BuildLine():
            Line((-854.768217802, 417.7094859497), (-924.768217802, 417.7094859497))
            Line((-924.768217802, 417.7094859497), (-924.768217802, 390.9110480684))
            ThreePointArc((-924.768217802, 390.9110480684), (-924.268217802, 387.7094859497), (-924.768217802, 384.507923831))
            Line((-924.768217802, 384.507923831), (-924.768217802, 190.9110480684))
            ThreePointArc((-924.768217802, 190.9110480684), (-924.268217802, 187.7094859497), (-924.768217802, 184.507923831))
            Line((-924.768217802, 184.507923831), (-924.768217802, 157.7094859497))
            Line((-924.768217802, 157.7094859497), (-854.768217802, 157.7094859497))
            Line((-854.768217802, 157.7094859497), (-854.768217802, 184.507923831))
            ThreePointArc((-854.768217802, 184.507923831), (-855.268217802, 187.7094859497), (-854.768217802, 190.9110480684))
            Line((-854.768217802, 190.9110480684), (-854.768217802, 384.507923831))
            ThreePointArc((-854.768217802, 384.507923831), (-855.268217802, 387.7094859497), (-854.768217802, 390.9110480684))
            Line((-854.768217802, 390.9110480684), (-854.768217802, 417.7094859497))
        make_face()
    extrude(amount=F15_DEPTH)


with BuildPart() as f17:
    # F16 (on face) → F17 (new body)
    with BuildSketch(Plane.XY.offset(10.5)):
        with BuildLine():
            Line((-971.1563087912, 460.8797235596), (-1041.1563087912, 460.8797235596))
            Line((-1041.1563087912, 460.8797235596), (-1041.1563087912, 404.0812856783))
            ThreePointArc((-1041.1563087912, 404.0812856783), (-1040.6563087912, 400.8797235596), (-1041.1563087912, 397.6781614409))
            Line((-1041.1563087912, 397.6781614409), (-1041.1563087912, 204.0812856783))
            ThreePointArc((-1041.1563087912, 204.0812856783), (-1040.6563087912, 200.8797235596), (-1041.1563087912, 197.6781614409))
            Line((-1041.1563087912, 197.6781614409), (-1041.1563087912, 140.8797235596))
            Line((-1041.1563087912, 140.8797235596), (-971.1563087912, 140.8797235596))
            Line((-971.1563087912, 140.8797235596), (-971.1563087912, 197.6781614409))
            ThreePointArc((-971.1563087912, 197.6781614409), (-971.6563087912, 200.8797235596), (-971.1563087912, 204.0812856783))
            Line((-971.1563087912, 204.0812856783), (-971.1563087912, 397.6781614409))
            ThreePointArc((-971.1563087912, 397.6781614409), (-971.6563087912, 400.8797235596), (-971.1563087912, 404.0812856783))
            Line((-971.1563087912, 404.0812856783), (-971.1563087912, 460.8797235596))
        make_face()
    extrude(amount=F17_DEPTH)


solid = Compound([f1.part, f3.part, f5.part, f7.part, f13.part, f15.part, f17.part])
